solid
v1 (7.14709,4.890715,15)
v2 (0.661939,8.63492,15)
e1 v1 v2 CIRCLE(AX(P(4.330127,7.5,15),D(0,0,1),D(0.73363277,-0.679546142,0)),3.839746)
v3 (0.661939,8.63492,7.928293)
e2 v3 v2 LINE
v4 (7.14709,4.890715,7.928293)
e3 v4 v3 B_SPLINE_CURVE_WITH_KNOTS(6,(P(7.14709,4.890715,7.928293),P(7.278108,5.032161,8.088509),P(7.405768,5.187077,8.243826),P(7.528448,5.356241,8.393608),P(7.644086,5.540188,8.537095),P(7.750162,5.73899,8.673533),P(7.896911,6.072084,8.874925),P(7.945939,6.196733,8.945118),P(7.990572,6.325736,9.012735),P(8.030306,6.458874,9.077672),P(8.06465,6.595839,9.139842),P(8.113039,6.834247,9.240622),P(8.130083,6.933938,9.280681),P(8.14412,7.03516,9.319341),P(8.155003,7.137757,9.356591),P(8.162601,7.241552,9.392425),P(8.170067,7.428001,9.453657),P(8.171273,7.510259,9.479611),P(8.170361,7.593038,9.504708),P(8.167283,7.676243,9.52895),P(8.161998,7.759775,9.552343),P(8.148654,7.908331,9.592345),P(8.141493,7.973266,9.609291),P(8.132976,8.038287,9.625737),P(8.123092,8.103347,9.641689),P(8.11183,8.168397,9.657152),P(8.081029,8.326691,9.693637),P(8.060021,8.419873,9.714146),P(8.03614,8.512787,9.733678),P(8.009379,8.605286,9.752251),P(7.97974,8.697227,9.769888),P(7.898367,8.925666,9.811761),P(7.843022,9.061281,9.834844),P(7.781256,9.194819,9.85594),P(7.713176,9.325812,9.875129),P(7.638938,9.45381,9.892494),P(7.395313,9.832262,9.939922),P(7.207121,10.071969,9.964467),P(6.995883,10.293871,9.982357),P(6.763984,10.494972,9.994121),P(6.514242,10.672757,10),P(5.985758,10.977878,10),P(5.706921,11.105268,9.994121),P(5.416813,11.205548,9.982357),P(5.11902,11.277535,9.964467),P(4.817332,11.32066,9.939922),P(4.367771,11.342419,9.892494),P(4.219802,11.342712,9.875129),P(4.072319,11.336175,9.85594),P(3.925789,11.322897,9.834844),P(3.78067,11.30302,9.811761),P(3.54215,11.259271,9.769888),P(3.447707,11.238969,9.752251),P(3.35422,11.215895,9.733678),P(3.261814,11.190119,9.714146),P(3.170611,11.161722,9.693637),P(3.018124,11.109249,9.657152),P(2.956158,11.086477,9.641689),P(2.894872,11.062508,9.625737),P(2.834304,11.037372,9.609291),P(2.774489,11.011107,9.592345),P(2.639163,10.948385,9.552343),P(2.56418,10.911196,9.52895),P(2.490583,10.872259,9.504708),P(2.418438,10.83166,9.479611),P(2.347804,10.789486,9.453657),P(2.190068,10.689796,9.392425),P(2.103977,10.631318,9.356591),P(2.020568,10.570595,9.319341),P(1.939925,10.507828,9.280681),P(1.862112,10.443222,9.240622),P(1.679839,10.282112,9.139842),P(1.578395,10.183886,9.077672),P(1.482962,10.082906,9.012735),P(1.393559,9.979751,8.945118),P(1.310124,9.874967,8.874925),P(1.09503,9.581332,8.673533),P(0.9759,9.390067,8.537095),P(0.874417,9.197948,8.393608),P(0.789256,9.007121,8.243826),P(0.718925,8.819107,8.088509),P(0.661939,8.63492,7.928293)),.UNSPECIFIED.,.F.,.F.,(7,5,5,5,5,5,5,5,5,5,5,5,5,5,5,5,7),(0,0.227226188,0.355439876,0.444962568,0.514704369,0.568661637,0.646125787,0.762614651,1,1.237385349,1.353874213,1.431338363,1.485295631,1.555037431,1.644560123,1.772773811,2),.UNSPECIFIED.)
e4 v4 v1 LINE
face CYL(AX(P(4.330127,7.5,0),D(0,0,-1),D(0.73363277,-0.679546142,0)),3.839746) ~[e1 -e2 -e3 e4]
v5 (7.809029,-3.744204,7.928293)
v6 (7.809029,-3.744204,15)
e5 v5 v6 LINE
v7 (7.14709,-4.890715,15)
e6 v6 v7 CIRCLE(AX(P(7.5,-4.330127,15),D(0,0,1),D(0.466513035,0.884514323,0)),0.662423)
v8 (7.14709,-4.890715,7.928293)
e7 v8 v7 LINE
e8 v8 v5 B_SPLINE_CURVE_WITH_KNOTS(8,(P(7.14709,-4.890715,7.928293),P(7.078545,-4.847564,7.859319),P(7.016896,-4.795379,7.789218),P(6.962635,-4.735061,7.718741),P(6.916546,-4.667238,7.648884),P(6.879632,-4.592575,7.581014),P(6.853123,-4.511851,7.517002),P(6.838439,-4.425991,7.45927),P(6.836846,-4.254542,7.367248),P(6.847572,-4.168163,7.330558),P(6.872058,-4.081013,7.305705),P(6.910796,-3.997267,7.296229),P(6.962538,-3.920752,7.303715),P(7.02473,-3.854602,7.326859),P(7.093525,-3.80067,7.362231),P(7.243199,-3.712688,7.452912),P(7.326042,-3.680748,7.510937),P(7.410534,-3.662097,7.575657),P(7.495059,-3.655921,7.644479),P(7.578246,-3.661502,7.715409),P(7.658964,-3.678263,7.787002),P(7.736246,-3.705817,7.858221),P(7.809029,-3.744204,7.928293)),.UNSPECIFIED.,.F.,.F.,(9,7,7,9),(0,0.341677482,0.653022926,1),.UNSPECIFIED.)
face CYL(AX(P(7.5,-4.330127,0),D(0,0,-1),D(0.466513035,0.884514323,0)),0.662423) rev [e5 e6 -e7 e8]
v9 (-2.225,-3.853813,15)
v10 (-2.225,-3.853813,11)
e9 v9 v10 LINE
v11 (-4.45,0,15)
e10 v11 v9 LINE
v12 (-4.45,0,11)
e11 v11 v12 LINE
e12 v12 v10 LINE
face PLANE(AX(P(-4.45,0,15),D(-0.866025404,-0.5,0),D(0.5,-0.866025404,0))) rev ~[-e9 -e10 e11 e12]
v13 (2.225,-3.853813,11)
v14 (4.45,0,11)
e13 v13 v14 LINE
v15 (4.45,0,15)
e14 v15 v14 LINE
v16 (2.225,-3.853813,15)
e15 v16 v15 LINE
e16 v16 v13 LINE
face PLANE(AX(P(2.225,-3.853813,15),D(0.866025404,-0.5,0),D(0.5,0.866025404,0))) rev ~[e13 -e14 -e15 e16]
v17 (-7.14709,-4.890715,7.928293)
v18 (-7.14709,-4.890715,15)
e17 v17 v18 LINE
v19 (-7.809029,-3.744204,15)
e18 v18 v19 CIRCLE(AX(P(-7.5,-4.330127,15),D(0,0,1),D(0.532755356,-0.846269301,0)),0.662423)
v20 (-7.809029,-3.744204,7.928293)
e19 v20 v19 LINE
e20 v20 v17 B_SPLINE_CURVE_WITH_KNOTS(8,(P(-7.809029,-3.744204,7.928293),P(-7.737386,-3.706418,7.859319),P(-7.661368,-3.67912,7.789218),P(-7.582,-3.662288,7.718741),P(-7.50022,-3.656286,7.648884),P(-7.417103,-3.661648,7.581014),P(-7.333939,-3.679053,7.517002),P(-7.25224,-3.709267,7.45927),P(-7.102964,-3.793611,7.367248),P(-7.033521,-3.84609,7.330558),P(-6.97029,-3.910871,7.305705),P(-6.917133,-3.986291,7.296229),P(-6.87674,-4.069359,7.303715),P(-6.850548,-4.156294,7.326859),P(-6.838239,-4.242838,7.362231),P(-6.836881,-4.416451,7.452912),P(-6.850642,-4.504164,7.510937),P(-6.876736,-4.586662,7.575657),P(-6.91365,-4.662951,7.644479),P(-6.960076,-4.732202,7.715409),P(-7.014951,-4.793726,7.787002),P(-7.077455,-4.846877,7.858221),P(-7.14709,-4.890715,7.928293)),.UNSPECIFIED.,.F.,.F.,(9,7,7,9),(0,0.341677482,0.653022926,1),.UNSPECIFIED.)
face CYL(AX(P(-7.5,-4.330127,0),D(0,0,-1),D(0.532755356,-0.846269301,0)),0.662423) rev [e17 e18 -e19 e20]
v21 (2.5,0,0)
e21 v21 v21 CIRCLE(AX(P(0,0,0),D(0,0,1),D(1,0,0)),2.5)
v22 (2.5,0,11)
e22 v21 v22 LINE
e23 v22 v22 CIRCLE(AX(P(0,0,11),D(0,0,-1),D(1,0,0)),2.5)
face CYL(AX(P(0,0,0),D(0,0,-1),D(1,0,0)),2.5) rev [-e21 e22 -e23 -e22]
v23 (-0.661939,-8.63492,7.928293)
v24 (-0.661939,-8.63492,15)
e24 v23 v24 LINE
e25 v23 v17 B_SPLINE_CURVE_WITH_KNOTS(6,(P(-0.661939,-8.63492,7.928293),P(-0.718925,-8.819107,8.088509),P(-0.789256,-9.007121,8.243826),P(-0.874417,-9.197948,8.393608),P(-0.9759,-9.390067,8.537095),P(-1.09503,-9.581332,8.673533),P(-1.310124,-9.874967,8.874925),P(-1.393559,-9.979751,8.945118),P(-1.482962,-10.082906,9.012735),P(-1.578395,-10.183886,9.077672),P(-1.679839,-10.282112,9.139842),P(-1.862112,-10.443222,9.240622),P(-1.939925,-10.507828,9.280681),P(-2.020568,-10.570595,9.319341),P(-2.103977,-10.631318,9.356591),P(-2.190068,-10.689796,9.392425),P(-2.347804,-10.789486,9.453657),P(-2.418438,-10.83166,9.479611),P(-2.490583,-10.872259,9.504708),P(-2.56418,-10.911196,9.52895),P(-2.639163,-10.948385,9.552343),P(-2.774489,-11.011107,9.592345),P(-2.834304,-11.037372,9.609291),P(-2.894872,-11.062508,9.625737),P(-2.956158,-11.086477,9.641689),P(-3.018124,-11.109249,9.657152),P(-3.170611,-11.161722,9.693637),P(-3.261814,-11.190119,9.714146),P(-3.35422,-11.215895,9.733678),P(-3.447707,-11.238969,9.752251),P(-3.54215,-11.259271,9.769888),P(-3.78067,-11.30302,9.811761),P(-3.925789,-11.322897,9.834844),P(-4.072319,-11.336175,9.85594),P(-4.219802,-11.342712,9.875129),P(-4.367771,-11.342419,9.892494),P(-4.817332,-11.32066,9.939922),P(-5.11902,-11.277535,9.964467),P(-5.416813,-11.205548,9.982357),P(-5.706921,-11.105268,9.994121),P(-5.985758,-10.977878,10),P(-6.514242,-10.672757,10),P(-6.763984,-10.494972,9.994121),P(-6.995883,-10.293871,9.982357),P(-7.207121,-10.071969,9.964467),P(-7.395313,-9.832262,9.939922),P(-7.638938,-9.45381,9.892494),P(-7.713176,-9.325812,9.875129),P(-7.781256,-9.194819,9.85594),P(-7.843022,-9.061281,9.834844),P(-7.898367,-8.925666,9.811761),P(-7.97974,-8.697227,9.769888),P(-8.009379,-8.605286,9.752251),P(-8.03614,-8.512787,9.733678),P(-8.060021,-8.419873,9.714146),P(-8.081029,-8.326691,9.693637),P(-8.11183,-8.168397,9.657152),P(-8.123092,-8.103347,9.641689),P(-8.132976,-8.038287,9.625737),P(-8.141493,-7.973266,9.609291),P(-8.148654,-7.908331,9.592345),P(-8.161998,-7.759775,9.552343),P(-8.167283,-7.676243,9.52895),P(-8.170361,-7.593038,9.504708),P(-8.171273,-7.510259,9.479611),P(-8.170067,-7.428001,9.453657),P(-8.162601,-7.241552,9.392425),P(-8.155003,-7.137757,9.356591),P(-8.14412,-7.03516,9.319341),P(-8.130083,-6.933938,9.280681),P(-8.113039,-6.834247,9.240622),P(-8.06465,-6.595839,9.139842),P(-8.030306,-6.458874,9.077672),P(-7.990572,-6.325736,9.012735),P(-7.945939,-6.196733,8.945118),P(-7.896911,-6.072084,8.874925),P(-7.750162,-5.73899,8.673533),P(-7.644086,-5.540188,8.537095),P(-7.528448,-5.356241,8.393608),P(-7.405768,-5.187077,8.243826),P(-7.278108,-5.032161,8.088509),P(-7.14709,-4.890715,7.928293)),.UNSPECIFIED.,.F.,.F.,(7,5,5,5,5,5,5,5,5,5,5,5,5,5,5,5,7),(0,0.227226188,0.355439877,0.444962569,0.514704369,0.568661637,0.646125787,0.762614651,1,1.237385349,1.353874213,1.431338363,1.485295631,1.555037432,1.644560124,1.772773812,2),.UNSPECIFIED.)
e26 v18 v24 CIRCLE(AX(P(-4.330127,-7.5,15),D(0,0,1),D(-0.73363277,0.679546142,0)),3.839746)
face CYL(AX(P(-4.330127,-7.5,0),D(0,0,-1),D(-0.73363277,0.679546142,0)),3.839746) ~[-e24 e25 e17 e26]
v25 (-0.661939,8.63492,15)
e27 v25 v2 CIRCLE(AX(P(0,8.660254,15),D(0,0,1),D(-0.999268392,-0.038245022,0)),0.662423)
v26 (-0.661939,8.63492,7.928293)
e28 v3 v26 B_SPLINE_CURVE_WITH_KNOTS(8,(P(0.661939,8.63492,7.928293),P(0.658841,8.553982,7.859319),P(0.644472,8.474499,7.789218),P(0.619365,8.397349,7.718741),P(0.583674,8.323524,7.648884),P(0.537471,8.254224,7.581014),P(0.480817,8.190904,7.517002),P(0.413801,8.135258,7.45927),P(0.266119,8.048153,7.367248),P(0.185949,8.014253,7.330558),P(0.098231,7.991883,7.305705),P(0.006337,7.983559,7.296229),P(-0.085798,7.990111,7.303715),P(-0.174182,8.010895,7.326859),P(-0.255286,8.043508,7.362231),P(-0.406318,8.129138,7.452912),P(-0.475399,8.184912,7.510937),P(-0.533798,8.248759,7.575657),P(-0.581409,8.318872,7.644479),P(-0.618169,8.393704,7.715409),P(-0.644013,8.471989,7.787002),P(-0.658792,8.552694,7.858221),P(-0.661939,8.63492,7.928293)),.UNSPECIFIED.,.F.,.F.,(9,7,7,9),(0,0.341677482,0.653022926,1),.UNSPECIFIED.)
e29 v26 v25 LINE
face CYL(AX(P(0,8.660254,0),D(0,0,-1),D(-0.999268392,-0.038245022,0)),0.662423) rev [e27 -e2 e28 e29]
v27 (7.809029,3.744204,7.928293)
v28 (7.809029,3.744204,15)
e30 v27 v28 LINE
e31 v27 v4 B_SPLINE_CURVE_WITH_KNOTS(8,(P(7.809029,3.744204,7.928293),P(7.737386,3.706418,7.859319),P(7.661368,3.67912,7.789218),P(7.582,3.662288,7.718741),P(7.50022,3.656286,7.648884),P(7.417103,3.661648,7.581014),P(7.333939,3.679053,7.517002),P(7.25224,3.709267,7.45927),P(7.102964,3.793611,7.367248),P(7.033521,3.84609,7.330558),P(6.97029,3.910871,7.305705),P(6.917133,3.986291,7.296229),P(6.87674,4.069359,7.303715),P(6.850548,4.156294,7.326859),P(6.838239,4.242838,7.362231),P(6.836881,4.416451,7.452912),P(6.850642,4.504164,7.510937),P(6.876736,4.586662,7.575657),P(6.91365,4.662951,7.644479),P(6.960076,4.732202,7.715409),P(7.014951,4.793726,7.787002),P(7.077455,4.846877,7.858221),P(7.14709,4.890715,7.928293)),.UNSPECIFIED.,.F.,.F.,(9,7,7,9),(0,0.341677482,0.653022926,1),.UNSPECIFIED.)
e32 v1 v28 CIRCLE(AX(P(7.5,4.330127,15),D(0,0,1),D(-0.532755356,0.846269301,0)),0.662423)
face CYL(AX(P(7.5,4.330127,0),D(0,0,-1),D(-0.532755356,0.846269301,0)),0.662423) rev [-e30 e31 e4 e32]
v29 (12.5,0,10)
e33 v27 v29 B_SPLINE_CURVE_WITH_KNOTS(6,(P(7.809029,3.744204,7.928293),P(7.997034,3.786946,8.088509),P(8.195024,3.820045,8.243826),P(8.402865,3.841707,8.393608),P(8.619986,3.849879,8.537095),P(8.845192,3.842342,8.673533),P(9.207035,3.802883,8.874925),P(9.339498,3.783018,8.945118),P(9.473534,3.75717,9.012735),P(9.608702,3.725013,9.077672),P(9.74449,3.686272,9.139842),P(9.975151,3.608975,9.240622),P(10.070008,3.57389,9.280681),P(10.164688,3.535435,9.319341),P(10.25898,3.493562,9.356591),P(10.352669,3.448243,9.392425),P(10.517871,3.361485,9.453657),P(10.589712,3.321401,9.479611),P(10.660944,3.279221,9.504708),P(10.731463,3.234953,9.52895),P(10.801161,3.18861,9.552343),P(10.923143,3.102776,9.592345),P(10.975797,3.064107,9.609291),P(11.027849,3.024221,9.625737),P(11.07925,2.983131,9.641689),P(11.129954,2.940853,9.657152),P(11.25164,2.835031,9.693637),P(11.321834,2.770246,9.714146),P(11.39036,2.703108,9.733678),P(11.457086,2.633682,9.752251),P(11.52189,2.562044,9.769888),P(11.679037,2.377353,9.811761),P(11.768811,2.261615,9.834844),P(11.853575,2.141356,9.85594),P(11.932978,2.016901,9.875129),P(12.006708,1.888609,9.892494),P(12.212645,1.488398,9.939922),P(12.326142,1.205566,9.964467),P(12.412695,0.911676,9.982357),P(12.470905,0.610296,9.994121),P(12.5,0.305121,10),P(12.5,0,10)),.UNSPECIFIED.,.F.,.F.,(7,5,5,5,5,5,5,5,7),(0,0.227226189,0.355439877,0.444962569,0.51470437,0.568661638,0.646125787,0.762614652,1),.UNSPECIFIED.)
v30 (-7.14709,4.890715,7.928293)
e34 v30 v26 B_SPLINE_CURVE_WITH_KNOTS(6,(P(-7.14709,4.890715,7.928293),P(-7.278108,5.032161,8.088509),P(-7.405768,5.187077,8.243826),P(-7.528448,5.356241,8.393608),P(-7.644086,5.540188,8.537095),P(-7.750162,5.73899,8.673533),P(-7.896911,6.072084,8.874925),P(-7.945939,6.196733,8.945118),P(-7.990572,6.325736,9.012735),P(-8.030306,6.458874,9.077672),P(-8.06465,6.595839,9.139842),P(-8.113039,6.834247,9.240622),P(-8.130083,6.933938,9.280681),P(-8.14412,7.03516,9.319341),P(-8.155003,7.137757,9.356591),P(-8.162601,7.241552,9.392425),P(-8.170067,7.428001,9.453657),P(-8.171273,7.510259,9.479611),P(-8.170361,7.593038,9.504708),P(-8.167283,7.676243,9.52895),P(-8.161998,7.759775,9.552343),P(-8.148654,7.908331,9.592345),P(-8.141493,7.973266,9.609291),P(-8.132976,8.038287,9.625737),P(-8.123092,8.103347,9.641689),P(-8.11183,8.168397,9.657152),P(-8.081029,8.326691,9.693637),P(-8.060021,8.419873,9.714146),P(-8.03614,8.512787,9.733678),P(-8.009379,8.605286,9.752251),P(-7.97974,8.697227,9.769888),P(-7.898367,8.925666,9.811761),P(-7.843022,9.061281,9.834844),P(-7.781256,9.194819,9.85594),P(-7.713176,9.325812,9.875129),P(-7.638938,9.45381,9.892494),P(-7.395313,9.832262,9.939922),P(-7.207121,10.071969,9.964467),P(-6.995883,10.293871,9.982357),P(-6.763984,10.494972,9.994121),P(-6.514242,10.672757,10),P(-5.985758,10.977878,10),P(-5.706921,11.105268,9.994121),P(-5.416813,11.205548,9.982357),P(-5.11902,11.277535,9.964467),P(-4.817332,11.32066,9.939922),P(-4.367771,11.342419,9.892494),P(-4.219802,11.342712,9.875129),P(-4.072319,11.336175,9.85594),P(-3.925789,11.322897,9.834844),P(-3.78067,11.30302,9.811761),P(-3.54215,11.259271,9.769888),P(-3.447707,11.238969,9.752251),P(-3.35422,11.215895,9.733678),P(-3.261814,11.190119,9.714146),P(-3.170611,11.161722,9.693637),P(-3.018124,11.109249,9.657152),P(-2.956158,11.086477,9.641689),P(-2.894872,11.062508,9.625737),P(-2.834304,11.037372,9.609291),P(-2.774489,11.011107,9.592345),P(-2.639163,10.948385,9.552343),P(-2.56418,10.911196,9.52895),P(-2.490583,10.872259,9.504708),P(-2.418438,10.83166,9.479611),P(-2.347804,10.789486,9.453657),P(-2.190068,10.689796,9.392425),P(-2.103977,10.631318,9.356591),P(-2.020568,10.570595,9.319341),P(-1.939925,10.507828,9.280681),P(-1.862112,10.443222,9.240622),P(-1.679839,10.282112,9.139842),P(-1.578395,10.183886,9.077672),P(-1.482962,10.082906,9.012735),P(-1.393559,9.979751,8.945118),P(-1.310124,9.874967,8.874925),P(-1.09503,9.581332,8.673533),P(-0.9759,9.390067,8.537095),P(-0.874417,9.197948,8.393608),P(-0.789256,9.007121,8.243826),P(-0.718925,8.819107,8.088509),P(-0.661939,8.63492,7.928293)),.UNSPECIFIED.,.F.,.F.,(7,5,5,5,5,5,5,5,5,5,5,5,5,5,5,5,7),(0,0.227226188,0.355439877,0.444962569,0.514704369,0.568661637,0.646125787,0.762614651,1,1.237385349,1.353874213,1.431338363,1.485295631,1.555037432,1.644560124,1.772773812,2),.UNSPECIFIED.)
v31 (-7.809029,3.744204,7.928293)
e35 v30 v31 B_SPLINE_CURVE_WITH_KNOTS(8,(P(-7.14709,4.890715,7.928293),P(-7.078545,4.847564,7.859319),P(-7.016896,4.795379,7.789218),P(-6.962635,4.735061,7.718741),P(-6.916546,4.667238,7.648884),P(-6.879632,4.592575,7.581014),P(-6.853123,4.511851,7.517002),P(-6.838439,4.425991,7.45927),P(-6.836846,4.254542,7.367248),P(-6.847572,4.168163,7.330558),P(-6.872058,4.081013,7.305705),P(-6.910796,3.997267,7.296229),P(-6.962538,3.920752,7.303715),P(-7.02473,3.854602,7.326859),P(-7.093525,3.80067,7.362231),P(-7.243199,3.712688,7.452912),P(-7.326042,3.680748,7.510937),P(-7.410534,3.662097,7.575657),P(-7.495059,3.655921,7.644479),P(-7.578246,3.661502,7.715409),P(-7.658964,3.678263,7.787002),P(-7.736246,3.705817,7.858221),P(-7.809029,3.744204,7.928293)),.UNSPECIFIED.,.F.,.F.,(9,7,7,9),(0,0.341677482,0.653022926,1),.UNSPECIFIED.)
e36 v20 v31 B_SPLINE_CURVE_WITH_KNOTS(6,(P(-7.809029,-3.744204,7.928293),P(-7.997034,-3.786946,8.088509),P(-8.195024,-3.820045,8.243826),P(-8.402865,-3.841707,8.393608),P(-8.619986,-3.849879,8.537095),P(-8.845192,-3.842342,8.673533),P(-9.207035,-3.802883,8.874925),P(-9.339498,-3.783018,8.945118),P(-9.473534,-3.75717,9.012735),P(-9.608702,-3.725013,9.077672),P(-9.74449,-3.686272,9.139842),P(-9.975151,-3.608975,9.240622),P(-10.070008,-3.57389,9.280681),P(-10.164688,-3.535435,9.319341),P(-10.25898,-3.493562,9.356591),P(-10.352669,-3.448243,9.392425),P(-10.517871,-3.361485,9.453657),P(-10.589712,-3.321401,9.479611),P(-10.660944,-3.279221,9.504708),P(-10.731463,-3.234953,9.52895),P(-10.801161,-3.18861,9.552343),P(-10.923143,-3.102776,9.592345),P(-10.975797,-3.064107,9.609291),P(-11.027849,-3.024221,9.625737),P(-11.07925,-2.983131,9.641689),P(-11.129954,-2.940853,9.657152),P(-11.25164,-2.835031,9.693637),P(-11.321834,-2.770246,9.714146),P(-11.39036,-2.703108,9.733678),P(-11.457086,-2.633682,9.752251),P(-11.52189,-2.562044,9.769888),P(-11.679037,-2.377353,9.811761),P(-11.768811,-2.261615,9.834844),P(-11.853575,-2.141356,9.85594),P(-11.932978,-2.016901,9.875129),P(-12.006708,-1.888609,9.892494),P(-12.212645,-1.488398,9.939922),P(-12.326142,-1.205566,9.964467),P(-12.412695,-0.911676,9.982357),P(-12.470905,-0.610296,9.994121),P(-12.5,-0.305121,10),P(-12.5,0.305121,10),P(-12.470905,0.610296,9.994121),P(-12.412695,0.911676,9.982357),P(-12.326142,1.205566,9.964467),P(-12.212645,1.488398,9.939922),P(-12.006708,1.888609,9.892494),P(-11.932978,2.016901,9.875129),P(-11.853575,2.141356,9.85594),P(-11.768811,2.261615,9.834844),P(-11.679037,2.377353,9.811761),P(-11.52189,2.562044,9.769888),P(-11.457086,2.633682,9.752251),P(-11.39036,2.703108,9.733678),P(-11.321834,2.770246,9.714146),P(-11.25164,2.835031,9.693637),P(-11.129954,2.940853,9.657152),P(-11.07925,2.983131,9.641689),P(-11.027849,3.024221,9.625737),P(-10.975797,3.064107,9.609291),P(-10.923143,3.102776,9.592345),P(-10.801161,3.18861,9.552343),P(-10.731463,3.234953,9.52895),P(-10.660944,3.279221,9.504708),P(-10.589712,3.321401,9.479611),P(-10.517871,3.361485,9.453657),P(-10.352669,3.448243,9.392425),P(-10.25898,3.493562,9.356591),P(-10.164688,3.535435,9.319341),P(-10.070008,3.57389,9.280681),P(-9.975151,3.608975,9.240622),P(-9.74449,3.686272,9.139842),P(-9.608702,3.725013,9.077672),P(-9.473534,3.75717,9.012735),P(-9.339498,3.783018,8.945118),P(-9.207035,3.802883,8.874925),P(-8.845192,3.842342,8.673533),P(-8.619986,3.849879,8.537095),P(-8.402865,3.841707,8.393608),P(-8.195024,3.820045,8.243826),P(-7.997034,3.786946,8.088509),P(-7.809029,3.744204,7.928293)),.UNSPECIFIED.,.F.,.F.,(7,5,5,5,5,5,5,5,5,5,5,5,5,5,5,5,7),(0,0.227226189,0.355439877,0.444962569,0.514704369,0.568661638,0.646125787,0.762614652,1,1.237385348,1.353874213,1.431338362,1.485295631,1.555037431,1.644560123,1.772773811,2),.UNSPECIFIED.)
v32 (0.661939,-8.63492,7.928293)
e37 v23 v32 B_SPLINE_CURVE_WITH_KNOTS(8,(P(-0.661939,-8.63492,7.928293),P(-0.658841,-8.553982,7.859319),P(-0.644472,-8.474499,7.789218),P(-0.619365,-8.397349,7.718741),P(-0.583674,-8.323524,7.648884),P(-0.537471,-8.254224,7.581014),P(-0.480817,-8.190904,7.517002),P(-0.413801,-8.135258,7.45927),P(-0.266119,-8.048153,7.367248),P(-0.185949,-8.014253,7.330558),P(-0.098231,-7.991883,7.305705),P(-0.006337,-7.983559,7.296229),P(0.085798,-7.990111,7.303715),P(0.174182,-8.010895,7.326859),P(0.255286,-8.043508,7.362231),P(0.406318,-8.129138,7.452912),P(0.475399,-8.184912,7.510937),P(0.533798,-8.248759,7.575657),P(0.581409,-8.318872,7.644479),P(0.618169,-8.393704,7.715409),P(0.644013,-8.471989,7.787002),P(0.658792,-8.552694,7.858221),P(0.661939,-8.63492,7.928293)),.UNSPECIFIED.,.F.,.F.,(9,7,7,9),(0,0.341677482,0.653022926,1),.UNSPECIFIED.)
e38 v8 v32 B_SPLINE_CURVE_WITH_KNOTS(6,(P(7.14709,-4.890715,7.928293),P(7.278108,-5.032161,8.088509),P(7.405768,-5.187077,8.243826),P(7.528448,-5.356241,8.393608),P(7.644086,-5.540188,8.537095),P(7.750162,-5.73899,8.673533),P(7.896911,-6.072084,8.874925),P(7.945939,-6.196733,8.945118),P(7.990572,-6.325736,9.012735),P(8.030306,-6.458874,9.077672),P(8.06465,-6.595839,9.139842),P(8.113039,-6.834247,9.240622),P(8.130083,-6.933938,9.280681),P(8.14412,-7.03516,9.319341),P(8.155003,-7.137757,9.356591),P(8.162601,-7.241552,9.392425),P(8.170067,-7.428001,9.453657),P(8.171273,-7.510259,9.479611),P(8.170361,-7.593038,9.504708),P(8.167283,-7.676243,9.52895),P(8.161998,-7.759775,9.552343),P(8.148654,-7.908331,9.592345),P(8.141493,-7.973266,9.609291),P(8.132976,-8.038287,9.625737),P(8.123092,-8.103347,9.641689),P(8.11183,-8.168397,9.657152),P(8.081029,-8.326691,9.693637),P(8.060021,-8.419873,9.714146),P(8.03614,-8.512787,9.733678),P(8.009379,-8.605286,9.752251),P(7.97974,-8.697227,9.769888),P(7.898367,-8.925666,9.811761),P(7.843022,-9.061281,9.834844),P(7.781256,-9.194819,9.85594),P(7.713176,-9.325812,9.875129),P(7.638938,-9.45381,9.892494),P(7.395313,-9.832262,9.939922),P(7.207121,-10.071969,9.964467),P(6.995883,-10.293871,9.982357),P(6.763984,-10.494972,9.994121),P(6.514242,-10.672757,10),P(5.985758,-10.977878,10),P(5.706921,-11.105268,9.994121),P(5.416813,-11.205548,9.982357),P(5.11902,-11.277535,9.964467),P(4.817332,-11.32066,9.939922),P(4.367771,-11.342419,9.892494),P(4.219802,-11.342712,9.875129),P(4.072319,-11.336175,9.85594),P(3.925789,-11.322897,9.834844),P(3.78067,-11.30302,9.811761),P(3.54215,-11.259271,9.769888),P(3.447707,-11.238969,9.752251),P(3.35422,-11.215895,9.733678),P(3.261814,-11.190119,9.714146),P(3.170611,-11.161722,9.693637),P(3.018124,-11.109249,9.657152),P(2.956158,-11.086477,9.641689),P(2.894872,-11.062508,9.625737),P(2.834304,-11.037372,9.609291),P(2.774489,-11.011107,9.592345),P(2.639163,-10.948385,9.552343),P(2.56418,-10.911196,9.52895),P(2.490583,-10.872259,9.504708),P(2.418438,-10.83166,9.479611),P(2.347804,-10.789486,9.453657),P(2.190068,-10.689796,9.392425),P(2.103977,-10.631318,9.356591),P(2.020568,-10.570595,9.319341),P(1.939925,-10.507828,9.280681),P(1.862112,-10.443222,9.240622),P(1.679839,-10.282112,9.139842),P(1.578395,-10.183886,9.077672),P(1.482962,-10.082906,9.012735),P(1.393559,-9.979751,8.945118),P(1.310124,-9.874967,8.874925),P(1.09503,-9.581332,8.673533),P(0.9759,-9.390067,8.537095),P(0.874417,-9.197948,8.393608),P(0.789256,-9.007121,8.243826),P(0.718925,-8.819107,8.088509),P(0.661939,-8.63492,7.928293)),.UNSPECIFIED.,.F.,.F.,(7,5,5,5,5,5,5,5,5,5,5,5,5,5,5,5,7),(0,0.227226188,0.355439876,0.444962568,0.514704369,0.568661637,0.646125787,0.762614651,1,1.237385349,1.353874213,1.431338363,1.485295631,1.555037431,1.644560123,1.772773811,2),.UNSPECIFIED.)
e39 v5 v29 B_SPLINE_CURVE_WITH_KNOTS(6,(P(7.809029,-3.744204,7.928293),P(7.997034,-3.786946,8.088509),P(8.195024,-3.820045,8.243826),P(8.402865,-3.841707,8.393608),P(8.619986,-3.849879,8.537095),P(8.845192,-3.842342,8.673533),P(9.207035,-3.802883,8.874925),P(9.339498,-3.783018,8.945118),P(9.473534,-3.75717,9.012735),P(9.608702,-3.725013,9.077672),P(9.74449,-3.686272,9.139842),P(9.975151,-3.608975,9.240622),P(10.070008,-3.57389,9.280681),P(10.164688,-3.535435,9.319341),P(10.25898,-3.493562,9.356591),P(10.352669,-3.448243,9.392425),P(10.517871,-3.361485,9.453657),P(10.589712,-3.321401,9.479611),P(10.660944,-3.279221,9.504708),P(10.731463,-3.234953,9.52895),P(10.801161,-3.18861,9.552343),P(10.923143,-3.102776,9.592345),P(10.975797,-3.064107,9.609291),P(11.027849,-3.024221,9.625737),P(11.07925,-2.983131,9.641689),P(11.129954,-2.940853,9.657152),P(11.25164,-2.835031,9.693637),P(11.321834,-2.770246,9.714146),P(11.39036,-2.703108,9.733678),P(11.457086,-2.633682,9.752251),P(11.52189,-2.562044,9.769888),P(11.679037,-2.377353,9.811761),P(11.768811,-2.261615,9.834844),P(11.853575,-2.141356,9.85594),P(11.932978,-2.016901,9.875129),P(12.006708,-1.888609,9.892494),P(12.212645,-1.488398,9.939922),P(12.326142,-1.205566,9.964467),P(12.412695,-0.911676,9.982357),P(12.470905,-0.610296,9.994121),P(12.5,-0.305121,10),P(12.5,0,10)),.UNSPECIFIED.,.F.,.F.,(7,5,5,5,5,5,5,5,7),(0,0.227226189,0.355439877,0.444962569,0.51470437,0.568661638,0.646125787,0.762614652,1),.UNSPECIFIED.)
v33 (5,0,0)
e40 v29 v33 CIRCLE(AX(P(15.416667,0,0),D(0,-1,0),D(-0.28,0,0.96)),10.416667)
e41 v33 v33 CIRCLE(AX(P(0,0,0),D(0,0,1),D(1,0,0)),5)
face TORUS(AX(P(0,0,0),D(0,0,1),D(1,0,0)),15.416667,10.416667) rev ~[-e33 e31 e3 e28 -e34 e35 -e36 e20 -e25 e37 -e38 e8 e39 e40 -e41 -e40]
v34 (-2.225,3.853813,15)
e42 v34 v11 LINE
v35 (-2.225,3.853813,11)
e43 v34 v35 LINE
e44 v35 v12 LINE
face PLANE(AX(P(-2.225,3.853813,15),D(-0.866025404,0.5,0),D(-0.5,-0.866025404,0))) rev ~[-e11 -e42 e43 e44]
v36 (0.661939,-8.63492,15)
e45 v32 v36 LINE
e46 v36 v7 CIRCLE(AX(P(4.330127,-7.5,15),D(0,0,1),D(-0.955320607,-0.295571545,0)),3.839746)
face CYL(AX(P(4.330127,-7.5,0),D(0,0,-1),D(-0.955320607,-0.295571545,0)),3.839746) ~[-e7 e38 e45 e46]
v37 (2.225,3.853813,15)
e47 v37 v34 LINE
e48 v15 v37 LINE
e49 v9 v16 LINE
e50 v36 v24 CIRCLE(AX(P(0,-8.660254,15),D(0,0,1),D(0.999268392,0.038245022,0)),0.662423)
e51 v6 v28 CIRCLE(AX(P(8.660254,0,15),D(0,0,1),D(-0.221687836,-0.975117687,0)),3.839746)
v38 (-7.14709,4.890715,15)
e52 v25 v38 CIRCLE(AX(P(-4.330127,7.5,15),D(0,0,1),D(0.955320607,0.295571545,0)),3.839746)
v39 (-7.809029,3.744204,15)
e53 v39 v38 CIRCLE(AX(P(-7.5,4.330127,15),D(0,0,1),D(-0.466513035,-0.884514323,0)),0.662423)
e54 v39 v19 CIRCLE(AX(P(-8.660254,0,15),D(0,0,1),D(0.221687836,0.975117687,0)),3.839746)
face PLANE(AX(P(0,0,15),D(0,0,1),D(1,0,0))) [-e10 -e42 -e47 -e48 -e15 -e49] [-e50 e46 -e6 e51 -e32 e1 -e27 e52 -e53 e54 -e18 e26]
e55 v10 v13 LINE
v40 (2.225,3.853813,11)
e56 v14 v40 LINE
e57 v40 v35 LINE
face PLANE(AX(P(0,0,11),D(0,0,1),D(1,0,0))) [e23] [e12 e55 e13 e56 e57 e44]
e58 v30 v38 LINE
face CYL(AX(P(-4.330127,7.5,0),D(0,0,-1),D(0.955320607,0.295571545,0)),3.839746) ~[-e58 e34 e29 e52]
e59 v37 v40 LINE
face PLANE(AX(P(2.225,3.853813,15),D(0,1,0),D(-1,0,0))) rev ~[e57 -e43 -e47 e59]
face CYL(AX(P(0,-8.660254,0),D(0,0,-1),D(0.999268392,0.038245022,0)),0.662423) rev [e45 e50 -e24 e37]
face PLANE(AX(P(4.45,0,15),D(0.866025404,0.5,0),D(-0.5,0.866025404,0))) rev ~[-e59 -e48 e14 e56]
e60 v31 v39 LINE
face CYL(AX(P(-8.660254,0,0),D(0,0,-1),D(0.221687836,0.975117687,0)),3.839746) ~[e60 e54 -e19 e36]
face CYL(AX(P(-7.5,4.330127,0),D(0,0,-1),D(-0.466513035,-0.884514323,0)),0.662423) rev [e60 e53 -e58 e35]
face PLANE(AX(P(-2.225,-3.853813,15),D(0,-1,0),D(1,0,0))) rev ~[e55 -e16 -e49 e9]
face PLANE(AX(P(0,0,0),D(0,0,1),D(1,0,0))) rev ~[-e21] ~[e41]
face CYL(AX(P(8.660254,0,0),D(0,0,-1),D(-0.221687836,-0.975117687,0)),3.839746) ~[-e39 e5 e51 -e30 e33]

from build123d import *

# Parameters (mm, degrees)
SKETCH026_R     = 2.5
PAD010_DEPTH    = 15
POCKET010_DEPTH = 4


with BuildPart() as part:
    # Sketch026 → Pad010 (new body)
    with BuildSketch(Plane.XY):
        with BuildLine():
            ThreePointArc((7.1470904861, 4.890715447), (6.25, 10.8253175473), (0.6619385767, 8.6349196476))
            ThreePointArc((-0.6619385767, 8.6349196476), (0, 7.9978308267), (0.6619385767, 8.6349196476))
            ThreePointArc((-0.6619385767, 8.6349196476), (-6.25, 10.8253175473), (-7.1470904861, 4.890715447))
            ThreePointArc((-7.8090290628, 3.7442042006), (-6.9263246711, 3.9989154133), (-7.1470904861, 4.890715447))
            ThreePointArc((-7.8090290628, 3.7442042006), (-12.5, 0), (-7.8090290628, -3.7442042006))
            ThreePointArc((-7.1470904861, -4.890715447), (-6.9263246711, -3.9989154133), (-7.8090290628, -3.7442042006))
            ThreePointArc((-7.1470904861, -4.890715447), (-6.25, -10.8253175473), (-0.6619385767, -8.6349196476))
            ThreePointArc((0.6619385767, -8.6349196476), (0, -7.9978308267), (-0.6619385767, -8.6349196476))
            ThreePointArc((0.6619385767, -8.6349196476), (6.25, -10.8253175473), (7.1470904861, -4.890715447))
            ThreePointArc((7.8090290628, -3.7442042006), (6.9263246711, -3.9989154133), (7.1470904861, -4.890715447))
            ThreePointArc((7.8090290628, -3.7442042006), (12.5, 0), (7.8090290628, 3.7442042006))
            ThreePointArc((7.1470904861, 4.890715447), (6.9263246711, 3.9989154133), (7.8090290628, 3.7442042006))
        make_face()
        Circle(SKETCH026_R, mode=Mode.SUBTRACT)
    extrude(amount=PAD010_DEPTH)

    # Sketch027 (on Face15 of Pad010) → Pocket010 (cut)
    with BuildSketch(Plane.XY.offset(15)):
        Polygon((2.225, -3.8538130468), (4.45, 0), (2.225, 3.8538130468), (-2.225, 3.8538130468), (-4.45, 0), (-2.225, -3.8538130468), align=None)
    extrude(amount=-POCKET010_DEPTH, mode=Mode.SUBTRACT)

    # Sketch028 → Groove001 (revolve, cut)
    with BuildSketch(Plane.XZ):
        with BuildLine():
            ThreePointArc((12.5, 10), (7.0833333333, 6.25), (5, 0))
            Line((5, 0), (13.5, 0))
            Line((13.5, 0), (13.5, 10))
            Line((13.5, 10), (12.5, 10))
        make_face()
    revolve(axis=Axis((0, 0, 0), (0, 0, 1)), mode=Mode.SUBTRACT)


solid = part.part
